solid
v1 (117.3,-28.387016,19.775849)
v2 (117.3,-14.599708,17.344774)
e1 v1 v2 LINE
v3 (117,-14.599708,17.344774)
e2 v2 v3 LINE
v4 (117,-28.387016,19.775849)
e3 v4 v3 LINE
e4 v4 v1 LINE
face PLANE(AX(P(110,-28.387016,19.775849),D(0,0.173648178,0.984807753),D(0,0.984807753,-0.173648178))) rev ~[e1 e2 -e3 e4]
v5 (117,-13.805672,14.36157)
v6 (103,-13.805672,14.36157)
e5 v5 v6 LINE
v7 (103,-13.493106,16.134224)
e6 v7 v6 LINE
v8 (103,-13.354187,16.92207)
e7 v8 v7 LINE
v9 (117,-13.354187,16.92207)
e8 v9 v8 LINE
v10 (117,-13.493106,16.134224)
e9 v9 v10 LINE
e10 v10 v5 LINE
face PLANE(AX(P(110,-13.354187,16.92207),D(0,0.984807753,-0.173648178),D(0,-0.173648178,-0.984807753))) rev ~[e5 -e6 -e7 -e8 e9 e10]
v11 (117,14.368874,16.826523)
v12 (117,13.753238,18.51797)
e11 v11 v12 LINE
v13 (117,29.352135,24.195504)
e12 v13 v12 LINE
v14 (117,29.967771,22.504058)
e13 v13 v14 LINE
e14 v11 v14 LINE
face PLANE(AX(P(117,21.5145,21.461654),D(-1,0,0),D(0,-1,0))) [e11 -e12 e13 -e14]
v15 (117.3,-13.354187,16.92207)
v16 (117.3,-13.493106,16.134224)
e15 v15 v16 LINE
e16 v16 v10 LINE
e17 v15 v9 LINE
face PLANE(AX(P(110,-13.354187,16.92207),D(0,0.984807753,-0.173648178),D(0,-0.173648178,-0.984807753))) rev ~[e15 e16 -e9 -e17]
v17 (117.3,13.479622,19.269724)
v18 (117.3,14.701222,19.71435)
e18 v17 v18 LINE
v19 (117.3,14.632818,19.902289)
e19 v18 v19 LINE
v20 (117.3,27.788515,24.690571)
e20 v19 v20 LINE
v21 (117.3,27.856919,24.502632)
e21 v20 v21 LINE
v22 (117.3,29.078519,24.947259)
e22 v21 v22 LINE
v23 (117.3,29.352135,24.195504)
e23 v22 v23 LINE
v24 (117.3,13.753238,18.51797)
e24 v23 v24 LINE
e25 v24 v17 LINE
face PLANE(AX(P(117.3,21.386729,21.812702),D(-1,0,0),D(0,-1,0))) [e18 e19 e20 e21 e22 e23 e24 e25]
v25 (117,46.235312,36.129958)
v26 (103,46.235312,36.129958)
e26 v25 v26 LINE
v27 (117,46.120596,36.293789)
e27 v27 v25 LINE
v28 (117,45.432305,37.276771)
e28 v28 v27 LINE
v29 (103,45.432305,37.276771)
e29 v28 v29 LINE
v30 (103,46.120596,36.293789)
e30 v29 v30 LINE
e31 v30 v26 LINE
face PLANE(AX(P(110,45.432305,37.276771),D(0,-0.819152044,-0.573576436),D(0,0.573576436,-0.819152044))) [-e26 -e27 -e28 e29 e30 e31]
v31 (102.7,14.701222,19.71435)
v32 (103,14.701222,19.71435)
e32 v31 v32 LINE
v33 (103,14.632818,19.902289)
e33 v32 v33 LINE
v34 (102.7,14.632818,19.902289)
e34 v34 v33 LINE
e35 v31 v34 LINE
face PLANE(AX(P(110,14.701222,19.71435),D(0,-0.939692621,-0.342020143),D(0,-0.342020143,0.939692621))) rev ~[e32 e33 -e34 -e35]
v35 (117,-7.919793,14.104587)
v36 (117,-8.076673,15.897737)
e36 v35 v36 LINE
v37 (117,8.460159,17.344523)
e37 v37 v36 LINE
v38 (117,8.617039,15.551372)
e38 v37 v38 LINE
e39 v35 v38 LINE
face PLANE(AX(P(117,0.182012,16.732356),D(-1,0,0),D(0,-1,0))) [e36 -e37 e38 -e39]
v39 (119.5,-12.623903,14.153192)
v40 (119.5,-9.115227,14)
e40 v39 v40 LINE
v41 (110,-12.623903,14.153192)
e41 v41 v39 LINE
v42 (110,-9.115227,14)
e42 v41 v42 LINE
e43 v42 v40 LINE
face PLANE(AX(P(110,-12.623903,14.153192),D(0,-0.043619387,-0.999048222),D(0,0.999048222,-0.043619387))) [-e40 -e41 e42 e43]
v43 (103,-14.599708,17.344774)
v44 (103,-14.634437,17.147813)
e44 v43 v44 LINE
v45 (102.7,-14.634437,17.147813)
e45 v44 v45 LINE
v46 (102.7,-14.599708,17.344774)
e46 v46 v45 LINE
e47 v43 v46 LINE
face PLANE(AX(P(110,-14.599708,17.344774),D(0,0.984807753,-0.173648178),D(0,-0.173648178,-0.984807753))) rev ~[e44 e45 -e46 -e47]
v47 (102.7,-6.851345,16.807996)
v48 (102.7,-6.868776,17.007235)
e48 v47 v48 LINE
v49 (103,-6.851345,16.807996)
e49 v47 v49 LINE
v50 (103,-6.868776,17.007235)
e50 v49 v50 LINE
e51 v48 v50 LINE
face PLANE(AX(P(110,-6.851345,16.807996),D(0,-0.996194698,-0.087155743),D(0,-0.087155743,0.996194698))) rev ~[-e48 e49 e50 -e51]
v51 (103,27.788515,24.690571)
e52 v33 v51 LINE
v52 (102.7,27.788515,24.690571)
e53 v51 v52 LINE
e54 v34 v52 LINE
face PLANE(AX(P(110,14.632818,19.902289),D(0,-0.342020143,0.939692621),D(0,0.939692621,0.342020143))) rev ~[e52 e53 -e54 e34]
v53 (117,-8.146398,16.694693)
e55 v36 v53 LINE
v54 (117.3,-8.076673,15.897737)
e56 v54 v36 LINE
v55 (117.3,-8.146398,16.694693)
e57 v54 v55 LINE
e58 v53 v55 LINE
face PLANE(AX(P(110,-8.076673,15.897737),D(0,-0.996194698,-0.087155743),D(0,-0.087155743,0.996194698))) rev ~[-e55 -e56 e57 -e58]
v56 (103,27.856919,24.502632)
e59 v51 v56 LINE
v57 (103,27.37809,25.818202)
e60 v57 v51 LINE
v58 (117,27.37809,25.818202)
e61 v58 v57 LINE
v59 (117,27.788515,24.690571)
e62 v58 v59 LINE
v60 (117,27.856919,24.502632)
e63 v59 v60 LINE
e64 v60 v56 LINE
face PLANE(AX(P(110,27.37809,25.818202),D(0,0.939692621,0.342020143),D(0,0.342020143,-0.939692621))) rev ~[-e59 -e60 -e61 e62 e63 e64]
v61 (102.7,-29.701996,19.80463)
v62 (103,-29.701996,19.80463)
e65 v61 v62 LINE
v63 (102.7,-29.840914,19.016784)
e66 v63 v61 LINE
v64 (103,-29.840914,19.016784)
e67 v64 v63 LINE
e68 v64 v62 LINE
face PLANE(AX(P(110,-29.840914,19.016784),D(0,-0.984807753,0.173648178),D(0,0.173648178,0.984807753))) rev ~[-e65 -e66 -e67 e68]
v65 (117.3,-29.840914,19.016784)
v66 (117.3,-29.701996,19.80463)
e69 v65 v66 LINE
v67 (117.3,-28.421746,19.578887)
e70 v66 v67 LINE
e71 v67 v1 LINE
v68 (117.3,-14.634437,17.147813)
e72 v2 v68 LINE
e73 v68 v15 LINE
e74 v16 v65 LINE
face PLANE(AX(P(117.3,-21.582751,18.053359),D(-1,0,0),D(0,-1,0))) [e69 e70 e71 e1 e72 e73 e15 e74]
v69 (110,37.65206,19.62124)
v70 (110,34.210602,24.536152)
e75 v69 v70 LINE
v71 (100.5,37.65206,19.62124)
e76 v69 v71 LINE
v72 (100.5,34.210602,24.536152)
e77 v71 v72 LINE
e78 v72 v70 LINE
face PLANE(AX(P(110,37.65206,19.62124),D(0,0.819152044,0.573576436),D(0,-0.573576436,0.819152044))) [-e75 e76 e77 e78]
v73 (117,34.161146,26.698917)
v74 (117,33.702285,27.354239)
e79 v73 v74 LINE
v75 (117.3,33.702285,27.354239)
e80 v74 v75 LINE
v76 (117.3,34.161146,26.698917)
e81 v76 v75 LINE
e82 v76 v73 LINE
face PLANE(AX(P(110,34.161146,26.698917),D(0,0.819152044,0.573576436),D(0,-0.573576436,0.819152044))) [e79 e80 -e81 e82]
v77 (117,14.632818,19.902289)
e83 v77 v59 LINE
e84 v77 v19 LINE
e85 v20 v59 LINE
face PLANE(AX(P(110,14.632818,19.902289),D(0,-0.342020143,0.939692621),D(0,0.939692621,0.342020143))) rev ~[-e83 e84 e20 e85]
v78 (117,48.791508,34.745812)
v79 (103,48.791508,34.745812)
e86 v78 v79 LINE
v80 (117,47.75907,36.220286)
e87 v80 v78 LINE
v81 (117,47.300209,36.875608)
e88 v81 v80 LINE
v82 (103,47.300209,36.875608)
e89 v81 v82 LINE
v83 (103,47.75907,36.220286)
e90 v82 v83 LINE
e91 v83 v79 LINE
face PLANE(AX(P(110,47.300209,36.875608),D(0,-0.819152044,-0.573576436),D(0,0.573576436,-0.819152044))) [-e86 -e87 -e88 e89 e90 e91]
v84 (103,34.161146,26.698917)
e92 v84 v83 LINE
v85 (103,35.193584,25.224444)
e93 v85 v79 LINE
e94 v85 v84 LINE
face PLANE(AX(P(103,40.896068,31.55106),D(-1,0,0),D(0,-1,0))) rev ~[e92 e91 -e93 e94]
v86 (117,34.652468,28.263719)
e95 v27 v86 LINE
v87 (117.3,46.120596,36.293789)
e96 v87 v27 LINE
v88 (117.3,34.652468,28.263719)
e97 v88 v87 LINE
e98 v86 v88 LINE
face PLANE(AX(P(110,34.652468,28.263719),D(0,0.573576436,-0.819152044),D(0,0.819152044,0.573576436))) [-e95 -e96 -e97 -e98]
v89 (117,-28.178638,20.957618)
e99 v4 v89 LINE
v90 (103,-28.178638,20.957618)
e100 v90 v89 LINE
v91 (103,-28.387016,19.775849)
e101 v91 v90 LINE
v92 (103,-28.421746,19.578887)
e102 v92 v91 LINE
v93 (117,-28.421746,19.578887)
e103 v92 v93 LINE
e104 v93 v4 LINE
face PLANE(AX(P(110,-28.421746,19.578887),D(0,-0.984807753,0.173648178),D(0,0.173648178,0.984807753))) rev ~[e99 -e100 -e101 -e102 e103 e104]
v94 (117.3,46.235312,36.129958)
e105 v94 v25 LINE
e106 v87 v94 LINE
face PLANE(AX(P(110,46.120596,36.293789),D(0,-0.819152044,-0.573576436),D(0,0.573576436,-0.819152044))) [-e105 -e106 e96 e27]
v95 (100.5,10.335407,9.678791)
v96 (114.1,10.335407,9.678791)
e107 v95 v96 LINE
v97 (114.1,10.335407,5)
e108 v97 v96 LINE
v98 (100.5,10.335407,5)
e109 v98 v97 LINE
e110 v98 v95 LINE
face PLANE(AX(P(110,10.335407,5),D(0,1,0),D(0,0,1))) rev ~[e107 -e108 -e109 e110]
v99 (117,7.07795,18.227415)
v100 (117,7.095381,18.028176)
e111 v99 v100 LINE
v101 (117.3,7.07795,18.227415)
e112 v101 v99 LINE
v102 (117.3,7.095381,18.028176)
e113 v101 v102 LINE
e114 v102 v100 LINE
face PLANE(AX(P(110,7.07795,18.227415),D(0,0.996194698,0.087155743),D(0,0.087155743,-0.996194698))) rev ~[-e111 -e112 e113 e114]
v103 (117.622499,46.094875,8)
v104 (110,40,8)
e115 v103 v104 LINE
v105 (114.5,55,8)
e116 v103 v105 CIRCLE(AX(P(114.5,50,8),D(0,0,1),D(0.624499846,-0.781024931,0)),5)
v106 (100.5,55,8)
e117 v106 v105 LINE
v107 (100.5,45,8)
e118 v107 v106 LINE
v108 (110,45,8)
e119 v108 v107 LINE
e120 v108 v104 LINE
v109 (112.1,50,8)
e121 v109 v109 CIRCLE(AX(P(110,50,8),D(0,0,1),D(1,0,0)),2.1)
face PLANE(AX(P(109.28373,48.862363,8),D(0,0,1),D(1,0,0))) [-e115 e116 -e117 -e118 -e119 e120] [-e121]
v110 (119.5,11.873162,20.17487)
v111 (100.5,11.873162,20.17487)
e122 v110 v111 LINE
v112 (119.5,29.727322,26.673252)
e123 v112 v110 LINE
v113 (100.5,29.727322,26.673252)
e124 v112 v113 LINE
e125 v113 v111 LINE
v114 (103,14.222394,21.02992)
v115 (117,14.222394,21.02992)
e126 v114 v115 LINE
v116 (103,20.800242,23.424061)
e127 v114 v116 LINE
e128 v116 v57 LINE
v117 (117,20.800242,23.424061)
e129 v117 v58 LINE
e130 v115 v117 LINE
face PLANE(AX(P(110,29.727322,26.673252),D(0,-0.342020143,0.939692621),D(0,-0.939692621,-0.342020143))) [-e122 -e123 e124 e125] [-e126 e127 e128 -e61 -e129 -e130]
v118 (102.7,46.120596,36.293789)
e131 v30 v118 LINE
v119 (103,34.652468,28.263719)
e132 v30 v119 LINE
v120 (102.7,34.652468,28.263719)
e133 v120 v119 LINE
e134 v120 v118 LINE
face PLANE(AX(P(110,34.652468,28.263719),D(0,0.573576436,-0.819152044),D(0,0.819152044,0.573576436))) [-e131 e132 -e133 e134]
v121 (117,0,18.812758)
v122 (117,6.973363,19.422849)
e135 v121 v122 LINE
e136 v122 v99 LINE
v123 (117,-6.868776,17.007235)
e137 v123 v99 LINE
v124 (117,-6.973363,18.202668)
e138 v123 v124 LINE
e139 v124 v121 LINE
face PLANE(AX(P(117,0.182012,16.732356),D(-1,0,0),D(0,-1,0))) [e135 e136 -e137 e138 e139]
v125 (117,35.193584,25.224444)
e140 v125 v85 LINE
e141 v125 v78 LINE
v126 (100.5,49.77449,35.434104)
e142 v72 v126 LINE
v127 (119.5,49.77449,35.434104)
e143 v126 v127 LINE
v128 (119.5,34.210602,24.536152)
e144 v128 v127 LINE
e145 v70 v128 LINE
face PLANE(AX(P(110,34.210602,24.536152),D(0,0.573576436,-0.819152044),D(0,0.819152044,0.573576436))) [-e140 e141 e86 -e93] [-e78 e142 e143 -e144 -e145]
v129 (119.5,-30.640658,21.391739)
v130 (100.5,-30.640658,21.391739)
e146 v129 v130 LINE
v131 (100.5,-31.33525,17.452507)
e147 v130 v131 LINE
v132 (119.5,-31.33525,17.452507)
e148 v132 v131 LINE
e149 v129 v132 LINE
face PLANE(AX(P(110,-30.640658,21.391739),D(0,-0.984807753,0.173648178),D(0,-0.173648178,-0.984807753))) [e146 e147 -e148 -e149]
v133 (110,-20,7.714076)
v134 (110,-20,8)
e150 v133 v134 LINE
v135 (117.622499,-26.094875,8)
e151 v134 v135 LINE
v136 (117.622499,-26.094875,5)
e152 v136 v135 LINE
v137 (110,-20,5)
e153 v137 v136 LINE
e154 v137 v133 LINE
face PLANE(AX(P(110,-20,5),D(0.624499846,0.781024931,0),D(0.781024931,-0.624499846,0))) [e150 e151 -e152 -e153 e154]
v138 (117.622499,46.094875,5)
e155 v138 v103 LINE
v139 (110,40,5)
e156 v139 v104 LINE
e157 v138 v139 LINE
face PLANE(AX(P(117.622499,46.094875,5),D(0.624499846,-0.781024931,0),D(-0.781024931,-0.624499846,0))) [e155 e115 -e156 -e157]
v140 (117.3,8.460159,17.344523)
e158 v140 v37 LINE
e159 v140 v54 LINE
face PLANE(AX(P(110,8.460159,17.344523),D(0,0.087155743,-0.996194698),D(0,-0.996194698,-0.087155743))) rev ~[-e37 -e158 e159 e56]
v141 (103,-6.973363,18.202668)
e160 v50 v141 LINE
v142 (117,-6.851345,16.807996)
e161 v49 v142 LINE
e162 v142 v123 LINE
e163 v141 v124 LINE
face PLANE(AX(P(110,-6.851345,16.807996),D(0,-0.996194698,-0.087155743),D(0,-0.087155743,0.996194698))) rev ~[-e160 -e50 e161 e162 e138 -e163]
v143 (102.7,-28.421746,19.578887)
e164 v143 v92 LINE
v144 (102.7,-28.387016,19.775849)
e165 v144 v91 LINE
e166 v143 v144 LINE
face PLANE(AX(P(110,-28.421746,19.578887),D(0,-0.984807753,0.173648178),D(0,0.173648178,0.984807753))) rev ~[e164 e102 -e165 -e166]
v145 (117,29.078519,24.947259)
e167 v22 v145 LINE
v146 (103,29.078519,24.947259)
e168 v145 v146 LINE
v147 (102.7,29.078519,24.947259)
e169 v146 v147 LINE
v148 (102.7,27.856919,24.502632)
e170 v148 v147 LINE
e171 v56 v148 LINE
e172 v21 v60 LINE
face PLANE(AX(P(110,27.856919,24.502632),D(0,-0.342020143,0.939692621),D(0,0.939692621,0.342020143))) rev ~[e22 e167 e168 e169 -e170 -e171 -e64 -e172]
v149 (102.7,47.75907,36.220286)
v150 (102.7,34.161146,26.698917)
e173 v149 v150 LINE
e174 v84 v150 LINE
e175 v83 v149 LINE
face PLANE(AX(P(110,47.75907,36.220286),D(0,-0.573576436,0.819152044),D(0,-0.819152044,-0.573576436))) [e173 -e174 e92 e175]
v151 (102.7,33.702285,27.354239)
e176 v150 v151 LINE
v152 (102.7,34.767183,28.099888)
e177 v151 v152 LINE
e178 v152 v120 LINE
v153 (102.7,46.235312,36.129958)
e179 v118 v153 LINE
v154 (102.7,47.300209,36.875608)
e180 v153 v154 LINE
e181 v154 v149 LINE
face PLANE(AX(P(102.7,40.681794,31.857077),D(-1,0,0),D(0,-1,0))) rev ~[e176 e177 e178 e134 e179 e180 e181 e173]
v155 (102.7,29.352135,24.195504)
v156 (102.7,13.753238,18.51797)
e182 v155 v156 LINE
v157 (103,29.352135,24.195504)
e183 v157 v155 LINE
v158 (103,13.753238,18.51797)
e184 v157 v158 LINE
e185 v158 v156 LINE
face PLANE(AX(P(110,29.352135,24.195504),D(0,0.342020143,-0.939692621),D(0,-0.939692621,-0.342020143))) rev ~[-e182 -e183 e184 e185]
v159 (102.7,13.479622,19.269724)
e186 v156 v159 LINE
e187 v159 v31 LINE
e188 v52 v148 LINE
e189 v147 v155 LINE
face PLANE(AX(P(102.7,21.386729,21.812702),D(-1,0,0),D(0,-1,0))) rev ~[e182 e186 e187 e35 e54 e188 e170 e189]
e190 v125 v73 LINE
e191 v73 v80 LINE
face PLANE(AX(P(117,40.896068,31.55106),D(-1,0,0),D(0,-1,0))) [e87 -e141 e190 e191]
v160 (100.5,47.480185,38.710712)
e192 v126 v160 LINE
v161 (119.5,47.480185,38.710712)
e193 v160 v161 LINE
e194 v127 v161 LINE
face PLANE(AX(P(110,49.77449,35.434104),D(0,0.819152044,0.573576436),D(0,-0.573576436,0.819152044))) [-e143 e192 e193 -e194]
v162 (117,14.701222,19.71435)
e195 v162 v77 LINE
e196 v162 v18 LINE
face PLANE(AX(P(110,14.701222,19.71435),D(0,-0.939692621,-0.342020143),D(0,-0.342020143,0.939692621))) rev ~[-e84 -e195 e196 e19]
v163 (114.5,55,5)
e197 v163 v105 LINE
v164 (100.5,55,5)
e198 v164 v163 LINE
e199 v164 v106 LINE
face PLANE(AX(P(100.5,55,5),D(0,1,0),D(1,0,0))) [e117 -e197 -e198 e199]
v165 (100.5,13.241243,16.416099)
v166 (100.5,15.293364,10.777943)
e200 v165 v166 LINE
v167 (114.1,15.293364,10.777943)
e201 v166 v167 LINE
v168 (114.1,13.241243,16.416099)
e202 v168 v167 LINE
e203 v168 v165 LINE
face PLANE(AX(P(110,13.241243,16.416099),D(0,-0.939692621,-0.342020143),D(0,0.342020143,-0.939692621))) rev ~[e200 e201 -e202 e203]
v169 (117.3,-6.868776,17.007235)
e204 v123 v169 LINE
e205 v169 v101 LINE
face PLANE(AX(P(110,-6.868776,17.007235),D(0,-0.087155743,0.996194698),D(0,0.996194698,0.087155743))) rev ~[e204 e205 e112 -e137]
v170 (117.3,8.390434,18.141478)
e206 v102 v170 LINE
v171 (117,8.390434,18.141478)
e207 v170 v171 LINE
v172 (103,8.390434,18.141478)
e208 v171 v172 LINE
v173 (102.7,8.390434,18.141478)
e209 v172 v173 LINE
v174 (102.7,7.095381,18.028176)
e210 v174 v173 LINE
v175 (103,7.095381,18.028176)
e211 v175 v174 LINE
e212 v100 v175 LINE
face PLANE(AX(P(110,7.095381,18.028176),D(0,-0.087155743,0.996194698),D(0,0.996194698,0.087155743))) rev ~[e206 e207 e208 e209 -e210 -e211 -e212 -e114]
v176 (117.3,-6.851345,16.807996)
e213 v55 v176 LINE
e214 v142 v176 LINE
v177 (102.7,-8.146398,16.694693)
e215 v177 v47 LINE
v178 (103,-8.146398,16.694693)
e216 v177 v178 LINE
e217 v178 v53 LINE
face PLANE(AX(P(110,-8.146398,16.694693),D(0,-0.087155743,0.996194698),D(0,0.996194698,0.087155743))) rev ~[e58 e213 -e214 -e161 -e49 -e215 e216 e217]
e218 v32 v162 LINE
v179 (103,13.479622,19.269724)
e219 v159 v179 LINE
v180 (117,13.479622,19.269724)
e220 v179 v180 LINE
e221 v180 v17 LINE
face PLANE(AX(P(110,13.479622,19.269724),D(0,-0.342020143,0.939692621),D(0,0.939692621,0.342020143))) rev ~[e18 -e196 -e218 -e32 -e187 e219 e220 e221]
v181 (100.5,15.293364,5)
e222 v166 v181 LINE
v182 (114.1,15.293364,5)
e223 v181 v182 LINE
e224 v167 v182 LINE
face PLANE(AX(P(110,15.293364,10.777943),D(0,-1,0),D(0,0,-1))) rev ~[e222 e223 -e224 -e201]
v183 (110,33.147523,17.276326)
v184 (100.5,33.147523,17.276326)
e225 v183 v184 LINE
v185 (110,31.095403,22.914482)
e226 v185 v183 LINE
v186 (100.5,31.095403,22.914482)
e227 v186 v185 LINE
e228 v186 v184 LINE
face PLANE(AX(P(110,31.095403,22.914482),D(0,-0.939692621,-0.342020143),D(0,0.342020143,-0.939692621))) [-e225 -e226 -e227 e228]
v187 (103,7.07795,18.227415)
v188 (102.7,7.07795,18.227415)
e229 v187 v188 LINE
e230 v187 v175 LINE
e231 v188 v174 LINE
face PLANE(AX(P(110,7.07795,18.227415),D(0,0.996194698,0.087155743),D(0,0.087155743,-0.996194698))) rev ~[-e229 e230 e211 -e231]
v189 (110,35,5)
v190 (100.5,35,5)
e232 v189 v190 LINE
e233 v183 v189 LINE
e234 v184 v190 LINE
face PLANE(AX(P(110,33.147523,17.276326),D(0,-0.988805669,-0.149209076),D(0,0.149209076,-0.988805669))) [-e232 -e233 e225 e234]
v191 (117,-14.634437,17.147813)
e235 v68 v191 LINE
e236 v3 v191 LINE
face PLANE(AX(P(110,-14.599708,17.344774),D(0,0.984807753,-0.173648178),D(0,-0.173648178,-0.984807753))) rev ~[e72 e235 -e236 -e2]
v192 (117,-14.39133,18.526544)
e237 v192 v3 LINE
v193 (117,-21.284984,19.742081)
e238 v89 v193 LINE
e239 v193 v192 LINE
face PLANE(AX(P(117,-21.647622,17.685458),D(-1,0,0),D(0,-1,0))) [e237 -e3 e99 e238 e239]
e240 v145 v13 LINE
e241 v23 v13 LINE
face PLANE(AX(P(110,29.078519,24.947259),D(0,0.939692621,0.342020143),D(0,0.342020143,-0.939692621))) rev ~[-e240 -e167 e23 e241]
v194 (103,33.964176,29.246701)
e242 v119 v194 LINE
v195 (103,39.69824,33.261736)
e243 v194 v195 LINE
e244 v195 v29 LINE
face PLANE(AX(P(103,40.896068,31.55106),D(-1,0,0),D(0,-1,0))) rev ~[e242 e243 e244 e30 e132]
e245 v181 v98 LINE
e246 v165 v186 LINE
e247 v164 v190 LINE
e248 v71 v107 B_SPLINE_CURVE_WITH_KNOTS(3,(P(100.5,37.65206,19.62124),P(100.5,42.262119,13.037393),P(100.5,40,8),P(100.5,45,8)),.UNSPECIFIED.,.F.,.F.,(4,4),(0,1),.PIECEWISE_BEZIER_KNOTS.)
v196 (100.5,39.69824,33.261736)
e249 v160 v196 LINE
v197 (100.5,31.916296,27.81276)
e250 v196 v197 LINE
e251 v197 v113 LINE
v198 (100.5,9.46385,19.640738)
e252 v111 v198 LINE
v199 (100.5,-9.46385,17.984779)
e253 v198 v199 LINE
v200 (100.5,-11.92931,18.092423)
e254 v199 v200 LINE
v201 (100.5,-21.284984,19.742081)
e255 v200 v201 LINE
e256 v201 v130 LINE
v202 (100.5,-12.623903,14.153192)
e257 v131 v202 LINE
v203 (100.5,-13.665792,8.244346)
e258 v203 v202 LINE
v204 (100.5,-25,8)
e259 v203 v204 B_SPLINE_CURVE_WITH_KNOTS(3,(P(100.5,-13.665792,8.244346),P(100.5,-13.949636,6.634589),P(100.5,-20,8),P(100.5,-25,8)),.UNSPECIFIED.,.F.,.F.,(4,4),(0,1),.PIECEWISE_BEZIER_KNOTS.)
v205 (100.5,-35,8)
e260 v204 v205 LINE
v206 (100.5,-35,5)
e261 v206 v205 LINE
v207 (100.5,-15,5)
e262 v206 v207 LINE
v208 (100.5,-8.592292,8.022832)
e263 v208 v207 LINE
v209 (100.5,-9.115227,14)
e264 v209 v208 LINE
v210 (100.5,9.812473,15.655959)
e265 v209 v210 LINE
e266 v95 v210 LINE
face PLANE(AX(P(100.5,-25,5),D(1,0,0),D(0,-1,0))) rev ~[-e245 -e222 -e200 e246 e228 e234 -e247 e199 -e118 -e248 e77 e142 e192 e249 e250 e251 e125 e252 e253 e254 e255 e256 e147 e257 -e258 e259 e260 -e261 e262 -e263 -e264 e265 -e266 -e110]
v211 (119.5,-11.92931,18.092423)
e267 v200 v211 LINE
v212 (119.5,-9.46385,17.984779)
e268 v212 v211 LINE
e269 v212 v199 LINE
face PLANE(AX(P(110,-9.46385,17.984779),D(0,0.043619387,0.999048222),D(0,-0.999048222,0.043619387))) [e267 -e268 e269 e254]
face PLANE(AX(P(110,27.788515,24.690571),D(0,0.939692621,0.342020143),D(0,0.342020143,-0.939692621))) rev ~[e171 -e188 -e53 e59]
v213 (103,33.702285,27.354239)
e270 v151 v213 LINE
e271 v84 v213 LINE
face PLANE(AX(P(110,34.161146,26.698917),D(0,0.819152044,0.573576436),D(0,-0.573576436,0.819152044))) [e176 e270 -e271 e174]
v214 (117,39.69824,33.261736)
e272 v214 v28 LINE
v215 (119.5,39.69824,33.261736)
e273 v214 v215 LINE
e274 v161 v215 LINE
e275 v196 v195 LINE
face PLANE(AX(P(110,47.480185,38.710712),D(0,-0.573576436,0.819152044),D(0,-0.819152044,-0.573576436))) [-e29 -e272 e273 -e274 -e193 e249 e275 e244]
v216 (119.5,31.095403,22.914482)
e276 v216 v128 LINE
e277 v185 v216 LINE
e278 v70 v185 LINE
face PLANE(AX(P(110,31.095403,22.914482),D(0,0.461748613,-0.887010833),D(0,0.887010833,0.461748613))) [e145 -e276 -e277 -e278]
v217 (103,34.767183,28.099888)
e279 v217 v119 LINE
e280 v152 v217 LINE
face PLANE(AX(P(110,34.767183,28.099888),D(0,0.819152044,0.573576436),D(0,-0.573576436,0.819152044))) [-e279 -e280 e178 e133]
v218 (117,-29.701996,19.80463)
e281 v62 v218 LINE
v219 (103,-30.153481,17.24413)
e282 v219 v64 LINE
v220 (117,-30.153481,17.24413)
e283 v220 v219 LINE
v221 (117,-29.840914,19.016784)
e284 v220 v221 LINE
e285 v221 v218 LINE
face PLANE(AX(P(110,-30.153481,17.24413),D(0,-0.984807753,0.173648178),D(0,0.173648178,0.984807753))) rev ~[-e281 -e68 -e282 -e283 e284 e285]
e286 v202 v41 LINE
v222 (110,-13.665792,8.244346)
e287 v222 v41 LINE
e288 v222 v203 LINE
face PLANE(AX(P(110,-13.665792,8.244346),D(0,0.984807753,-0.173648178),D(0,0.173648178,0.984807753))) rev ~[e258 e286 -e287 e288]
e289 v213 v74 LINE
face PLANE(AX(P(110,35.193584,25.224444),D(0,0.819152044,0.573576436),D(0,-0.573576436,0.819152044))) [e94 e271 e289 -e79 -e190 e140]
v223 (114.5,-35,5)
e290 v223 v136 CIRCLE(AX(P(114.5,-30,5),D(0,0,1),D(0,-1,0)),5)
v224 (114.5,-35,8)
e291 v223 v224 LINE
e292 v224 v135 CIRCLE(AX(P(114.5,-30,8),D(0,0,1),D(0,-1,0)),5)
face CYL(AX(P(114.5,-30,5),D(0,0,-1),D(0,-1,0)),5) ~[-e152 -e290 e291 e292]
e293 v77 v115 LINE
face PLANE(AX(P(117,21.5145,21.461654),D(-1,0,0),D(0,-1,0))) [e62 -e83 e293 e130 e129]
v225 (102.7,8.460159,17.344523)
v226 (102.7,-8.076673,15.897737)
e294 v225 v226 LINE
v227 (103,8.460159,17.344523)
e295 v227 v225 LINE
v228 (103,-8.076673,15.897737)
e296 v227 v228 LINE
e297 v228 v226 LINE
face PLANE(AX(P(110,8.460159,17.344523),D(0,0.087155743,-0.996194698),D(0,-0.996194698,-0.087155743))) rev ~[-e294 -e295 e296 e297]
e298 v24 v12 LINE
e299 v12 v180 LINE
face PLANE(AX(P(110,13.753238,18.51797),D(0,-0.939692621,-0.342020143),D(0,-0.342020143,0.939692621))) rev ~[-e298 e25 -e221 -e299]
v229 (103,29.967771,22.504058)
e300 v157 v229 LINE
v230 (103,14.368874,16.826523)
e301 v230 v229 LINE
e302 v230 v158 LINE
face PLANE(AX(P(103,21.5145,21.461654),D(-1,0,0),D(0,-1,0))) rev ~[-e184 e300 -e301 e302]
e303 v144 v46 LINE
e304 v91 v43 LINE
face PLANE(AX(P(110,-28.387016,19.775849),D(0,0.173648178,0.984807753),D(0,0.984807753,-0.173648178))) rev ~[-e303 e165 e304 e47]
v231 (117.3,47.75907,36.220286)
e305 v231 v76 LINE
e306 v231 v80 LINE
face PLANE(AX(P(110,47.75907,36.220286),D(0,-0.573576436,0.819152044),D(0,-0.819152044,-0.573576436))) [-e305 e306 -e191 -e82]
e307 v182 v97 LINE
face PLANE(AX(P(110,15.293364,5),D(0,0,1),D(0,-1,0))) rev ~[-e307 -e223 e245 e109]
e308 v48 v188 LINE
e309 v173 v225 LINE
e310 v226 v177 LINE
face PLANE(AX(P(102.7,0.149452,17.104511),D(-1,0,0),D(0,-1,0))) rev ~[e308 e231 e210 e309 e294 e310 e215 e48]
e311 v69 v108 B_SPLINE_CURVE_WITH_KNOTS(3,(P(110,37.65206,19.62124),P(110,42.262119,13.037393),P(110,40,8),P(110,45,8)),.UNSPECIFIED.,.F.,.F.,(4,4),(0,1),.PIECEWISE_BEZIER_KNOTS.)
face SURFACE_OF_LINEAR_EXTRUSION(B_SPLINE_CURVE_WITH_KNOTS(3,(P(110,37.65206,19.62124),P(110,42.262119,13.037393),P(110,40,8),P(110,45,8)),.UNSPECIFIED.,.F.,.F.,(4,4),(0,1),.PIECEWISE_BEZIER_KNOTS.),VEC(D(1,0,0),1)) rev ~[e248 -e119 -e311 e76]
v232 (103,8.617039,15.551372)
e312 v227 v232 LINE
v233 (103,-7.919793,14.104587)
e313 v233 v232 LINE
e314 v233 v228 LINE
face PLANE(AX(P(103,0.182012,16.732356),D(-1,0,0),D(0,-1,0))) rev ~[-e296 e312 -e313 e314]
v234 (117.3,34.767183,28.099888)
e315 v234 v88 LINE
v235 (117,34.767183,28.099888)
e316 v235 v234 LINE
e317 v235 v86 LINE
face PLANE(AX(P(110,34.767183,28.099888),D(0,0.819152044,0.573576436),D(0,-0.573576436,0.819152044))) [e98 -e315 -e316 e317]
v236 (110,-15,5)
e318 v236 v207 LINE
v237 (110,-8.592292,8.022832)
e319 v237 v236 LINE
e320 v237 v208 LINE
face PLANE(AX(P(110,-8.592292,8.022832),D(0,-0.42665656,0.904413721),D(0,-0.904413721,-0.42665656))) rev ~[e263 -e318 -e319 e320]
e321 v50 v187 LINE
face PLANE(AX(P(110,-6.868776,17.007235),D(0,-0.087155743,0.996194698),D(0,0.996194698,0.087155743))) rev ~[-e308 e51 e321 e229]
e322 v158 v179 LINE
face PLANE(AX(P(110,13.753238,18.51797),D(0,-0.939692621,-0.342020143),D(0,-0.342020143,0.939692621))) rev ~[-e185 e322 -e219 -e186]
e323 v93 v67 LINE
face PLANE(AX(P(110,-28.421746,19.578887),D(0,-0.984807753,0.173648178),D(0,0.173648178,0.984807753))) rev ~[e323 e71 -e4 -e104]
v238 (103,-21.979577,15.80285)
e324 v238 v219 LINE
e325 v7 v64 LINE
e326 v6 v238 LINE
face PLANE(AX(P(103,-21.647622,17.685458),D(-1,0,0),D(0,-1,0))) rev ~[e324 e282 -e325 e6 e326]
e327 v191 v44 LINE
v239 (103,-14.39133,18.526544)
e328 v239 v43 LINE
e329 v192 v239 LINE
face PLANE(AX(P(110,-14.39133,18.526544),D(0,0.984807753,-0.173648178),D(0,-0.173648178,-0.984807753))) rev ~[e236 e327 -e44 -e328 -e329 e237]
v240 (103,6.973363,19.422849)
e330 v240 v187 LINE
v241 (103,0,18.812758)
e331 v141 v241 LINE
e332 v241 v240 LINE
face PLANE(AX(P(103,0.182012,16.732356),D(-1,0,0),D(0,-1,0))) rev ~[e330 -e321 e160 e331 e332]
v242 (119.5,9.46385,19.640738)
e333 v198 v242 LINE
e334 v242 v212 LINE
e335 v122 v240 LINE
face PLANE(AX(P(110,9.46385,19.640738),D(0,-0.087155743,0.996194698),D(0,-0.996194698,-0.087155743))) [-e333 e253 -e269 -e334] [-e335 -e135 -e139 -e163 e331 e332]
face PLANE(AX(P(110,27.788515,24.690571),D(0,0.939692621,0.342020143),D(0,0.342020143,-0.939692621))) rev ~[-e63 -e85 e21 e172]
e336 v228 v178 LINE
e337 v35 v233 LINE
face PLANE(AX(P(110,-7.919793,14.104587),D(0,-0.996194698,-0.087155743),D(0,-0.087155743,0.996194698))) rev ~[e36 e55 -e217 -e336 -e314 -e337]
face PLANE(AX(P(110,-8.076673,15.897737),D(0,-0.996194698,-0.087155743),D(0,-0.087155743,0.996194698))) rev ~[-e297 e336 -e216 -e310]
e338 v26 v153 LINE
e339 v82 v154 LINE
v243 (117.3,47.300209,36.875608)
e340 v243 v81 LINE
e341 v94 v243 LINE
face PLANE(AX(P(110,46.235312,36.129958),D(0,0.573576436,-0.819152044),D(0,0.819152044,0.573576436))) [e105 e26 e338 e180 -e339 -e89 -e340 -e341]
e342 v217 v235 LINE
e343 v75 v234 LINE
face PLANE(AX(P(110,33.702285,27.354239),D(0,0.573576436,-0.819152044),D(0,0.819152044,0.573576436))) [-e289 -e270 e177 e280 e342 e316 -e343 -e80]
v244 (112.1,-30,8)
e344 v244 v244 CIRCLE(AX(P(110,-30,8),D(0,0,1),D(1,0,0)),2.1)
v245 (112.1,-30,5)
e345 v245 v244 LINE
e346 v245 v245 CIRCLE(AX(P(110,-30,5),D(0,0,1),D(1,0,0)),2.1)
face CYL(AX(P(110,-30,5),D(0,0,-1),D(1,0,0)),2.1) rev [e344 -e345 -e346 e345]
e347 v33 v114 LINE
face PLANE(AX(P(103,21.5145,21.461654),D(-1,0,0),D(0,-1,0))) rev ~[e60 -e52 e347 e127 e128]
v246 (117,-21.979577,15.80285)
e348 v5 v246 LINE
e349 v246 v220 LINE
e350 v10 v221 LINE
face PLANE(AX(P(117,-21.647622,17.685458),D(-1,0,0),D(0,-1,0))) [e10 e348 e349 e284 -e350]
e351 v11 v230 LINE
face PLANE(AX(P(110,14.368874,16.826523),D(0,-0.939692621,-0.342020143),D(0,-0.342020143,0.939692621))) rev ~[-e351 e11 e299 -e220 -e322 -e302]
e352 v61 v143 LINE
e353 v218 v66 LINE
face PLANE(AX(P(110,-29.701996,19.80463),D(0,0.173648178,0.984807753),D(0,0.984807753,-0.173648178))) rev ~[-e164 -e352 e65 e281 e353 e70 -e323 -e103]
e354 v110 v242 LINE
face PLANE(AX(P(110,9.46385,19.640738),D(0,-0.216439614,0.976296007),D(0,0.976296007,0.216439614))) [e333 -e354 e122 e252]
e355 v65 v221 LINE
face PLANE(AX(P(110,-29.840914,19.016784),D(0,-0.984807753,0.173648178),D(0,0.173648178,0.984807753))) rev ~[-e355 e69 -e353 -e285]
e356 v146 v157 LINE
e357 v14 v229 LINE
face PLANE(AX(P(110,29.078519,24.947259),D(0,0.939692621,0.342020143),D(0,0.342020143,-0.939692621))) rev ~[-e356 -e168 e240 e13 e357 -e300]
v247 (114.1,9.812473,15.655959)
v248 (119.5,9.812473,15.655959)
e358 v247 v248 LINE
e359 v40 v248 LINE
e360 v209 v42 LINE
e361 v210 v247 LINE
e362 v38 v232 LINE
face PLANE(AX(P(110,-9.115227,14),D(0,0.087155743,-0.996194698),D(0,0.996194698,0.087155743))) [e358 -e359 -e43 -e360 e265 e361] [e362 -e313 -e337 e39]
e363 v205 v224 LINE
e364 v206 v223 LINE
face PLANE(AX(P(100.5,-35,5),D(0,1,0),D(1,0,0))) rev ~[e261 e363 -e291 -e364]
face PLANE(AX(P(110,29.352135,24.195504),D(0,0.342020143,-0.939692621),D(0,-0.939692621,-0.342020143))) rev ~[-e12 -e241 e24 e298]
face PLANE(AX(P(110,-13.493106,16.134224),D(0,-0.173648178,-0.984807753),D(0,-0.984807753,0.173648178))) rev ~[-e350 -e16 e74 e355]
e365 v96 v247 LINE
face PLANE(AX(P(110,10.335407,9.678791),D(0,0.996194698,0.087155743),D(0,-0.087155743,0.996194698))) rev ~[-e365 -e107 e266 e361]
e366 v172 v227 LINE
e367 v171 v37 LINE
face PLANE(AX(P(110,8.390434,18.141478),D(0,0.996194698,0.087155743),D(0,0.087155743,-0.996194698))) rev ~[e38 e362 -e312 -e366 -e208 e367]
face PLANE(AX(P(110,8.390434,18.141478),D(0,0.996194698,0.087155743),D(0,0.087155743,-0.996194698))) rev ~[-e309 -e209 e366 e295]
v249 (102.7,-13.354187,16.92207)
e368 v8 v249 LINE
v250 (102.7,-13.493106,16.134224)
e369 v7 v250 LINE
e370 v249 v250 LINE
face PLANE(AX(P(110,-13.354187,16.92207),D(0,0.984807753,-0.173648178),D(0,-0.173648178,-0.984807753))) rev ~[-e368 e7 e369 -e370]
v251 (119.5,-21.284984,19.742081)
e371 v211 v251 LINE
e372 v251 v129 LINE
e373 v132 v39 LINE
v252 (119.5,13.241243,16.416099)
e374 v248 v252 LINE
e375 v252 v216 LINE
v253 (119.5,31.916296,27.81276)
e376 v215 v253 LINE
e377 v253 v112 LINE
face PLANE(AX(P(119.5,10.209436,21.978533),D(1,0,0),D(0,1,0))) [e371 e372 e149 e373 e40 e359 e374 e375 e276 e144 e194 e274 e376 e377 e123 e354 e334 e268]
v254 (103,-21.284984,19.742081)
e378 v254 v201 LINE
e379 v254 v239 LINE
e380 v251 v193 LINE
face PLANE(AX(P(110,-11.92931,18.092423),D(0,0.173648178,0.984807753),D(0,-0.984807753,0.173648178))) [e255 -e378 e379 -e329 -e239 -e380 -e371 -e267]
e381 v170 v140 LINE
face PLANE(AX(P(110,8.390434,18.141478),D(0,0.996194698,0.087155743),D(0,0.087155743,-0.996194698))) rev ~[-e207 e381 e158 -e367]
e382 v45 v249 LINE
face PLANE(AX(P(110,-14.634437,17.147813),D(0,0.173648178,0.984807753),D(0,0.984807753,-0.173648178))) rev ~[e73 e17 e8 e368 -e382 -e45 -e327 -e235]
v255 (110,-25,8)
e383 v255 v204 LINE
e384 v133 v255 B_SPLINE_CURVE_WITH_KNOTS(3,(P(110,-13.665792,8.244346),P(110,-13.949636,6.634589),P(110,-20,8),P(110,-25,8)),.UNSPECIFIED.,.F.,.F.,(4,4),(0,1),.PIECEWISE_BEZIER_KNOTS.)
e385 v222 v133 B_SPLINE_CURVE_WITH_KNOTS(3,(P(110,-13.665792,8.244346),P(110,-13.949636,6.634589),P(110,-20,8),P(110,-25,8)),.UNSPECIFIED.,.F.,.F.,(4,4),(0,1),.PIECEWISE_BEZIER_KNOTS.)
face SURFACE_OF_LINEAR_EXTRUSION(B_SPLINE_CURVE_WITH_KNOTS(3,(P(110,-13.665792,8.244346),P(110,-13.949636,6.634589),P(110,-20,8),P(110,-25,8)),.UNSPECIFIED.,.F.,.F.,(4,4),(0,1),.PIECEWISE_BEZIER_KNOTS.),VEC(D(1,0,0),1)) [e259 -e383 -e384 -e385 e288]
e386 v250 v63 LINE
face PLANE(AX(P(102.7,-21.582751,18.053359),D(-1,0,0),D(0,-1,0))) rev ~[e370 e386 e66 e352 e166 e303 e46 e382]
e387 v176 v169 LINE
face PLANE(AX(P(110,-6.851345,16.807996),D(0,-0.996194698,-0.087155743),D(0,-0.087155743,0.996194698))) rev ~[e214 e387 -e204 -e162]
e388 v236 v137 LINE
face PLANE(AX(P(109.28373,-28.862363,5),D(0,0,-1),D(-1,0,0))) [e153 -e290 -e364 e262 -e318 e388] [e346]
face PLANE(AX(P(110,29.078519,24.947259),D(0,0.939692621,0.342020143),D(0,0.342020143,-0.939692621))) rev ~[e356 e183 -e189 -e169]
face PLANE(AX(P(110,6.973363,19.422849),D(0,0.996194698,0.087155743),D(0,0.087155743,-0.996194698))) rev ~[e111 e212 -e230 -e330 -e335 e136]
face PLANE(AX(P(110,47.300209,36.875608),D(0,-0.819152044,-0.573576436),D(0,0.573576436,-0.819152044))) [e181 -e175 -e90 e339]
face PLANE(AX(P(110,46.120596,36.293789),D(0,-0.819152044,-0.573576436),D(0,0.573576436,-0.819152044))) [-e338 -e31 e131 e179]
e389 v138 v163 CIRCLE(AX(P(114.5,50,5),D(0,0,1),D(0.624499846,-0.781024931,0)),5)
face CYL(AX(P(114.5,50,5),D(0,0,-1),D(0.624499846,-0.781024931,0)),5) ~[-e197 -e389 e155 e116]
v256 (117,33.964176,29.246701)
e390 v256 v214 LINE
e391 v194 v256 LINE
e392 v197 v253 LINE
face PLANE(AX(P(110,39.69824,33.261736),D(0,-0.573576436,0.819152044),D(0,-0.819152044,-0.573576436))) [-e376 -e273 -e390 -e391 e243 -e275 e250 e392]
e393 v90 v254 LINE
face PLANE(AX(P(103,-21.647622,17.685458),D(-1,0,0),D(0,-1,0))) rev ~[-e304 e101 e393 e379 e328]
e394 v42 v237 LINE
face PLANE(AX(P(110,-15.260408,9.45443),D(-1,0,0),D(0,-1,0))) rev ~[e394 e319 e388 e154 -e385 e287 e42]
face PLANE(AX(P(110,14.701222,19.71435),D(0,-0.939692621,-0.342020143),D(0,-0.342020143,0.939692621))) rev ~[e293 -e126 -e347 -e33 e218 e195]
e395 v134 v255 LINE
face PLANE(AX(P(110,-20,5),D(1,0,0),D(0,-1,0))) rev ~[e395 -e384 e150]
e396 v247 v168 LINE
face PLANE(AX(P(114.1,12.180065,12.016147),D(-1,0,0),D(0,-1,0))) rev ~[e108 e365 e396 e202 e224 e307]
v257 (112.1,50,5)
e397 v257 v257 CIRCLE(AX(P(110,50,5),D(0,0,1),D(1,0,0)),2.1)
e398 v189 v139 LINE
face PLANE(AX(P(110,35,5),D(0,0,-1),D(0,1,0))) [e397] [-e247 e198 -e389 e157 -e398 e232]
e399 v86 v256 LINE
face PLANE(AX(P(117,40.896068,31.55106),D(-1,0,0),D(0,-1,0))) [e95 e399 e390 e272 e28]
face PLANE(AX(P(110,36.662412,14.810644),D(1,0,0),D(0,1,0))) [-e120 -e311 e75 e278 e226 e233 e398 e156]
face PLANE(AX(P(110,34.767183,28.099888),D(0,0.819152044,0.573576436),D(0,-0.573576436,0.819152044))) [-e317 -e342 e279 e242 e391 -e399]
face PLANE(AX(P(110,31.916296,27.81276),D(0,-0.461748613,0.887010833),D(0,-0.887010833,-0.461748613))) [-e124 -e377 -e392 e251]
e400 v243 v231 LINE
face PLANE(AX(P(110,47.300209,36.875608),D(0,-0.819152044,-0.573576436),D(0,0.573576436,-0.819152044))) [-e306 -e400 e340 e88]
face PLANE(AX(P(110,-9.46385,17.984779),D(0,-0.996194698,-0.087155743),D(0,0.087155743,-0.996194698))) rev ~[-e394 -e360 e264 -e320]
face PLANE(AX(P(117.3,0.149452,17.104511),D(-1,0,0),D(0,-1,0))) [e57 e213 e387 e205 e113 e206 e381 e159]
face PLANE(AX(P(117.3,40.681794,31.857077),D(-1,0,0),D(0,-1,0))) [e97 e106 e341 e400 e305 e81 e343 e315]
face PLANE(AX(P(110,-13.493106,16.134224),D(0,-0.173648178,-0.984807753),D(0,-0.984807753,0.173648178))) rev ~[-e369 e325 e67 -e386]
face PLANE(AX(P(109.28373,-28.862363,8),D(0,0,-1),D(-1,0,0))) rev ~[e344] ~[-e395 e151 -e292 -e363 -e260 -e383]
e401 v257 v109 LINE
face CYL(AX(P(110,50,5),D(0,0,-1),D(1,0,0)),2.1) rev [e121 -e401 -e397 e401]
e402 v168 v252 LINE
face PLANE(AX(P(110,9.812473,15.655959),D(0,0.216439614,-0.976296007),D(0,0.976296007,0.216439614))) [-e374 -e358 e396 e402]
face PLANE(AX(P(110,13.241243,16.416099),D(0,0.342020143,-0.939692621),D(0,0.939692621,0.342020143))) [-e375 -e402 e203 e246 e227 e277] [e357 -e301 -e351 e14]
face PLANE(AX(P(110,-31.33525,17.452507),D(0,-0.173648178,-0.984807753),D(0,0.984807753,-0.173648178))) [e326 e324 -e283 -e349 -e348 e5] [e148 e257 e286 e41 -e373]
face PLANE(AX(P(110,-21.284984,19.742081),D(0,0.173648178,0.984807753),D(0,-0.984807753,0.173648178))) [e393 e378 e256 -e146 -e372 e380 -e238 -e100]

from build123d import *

# Parameters (mm, degrees)
PAD020_DEPTH      = 9.5
POCKET010_DEPTH   = 7
POCKET011_DEPTH   = 7.3
PAD021_DEPTH      = 4.1
PAD021_DEPTH_BACK = 9.5
PAD022_DEPTH      = 9.5
SKETCH037_R       = 2.1
PAD023_DEPTH      = 3


with BuildPart() as part:
    # Sketch032 → Pad020 (new body, symmetric)
    with BuildSketch(Plane.YZ):
        Polygon((-31.335250398, 12.452507497), (-12.6239030908, 9.1531921213), (-9.1152266609, 9), (9.8124726029, 10.6559591122), (13.2412428211, 11.416099169), (31.0954026161, 17.9144818922), (34.2106015986, 19.5361518385), (49.7744904401, 30.4341041291), (47.4801846947, 33.7107123063), (39.698240274, 28.2617361609), (31.9162958532, 22.8127600156), (29.7273220428, 21.6732523754), (20.8002421453, 18.4240610138), (11.8731622478, 15.1748696522), (9.4638496319, 14.6407379046), (0, 13.8127583485), (-9.4638496319, 12.9847787924), (-11.9293103801, 13.0924231333), (-21.2849840337, 14.7420808212), (-30.6406576873, 16.391738509), align=None)
    extrude(amount=PAD020_DEPTH, both=True)

    # Sketch033 → Pocket010 (cut, symmetric)
    with BuildSketch(Plane.YZ):
        Polygon((-28.1786383048, 15.9576180648), (-21.2849840337, 14.7420808212), (-14.3913297626, 13.5265435775), (-14.6344372114, 12.1478127233), (-13.3541871324, 11.9220700923), (-13.8056723944, 9.3615699345), (-21.9795767444, 10.8028498091), (-30.1534810944, 12.2441296838), (-29.7019958324, 14.8046298416), (-28.4217457535, 14.5788872106), align=None)
        Polygon((-6.9733628866, 13.2026681492), (0, 13.8127583485), (6.9733628866, 14.4228485477), (7.0953809265, 13.0281759704), (8.390434034, 13.1414784359), (8.6170389652, 10.5513722209), (0.348622971, 9.8279795561), (-7.9197930232, 9.1045868913), (-8.1463979543, 11.6946931063), (-6.8513448468, 11.8079955719), align=None)
        Polygon((14.2223937998, 16.0299200105), (20.8002421453, 18.4240610138), (27.3780904908, 20.818202017), (27.8569186914, 19.5026323479), (29.0785190985, 19.9472585343), (29.9677714711, 17.5040577202), (22.1683227186, 14.6652905306), (14.3688739661, 11.826523341), (13.4796215934, 14.2697241551), (14.7012220004, 14.7143503414), align=None)
        Polygon((33.964175964, 24.2467011065), (39.698240274, 28.2617361609), (45.432304584, 32.2767712154), (46.2353115949, 31.1299583534), (47.3002092525, 31.8756077207), (48.791507987, 29.7458124055), (41.9925460194, 24.9851279838), (35.1935840518, 20.2244435621), (33.7022853173, 22.3542388772), (34.7671829748, 23.0998882445), align=None)
    extrude(amount=POCKET010_DEPTH, both=True, mode=Mode.SUBTRACT)

    # Sketch034 → Pocket011 (cut, symmetric)
    with BuildSketch(Plane.YZ):
        Polygon((14.6328179718, 14.9022888655), (27.7885146628, 19.6905708721), (27.8569186914, 19.5026323479), (29.0785190985, 19.9472585343), (29.3521352131, 19.1955044376), (13.7532377081, 13.5179700584), (13.4796215934, 14.2697241551), (14.7012220004, 14.7143503414), align=None)
        Polygon((-6.8687759953, 12.0072345115), (7.0779497779, 13.22741491), (7.0953809265, 13.0281759704), (8.390434034, 13.1414784359), (8.4601586282, 12.3445226775), (-8.0766733601, 10.8977373479), (-8.1463979543, 11.6946931063), (-6.8513448468, 11.8079955719), align=None)
        Polygon((-28.387016118, 14.7758487612), (-14.5997075758, 12.3447742739), (-14.6344372114, 12.1478127233), (-13.3541871324, 11.9220700923), (-13.4931056746, 11.1342238899), (-29.8409143746, 14.0167836392), (-29.7019958324, 14.8046298416), (-28.4217457535, 14.5788872106), align=None)
        Polygon((34.6524676876, 23.2637186533), (46.1205963076, 31.2937887623), (46.2353115949, 31.1299583534), (47.3002092525, 31.8756077207), (47.7590704016, 31.2202860852), (34.1611464664, 21.6989172418), (33.7022853173, 22.3542388772), (34.7671829748, 23.0998882445), align=None)
    extrude(amount=POCKET011_DEPTH, both=True, mode=Mode.SUBTRACT)

    # Sketch035 → Pad021 (join, two sides)
    with BuildSketch(Plane.YZ) as pad021_sk:
        Polygon((9.4638496319, 14.6407379046), (11.8731622478, 15.1748696522), (13.2412428211, 11.416099169), (15.2933636811, 5.7779434443), (15.2933636811, 0), (10.3354070593, 0), (10.3354070593, 4.6787909237), (9.8124726029, 10.6559591122), align=None)
    extrude(amount=PAD021_DEPTH)
    extrude(pad021_sk.sketch, amount=-PAD021_DEPTH_BACK)

    # Sketch036 → Pad022 (join)
    with BuildSketch(Plane.YZ):
        with BuildLine():
            Line((-11.9293103801, 13.0924231333), (-9.4638496319, 12.9847787924))
            Line((-9.4638496319, 12.9847787924), (-9.1152266609, 9))
            Line((-9.1152266609, 9), (-8.5922922044, 3.0228318114))
            Line((-8.5922922044, 3.0228318114), (-15, 0))
            Line((-15, 0), (-25, 0))
            Line((-25, 0), (-25, 3))
            add(Edge.make_bspline(
                [(-13.6657921568, 3.2443456032), (-13.9496356176, 1.6345893441), (-20, 3), (-25, 3)],
                knots=[0, 0, 0, 0, 1, 1, 1, 1], degree=3))
            Line((-13.6657921568, 3.2443456032), (-12.6239030908, 9.1531921213))
            Line((-12.6239030908, 9.1531921213), (-11.9293103801, 13.0924231333))
        make_face()
        with BuildLine():
            Line((37.6520602167, 14.6212395727), (34.2106015986, 19.5361518385))
            Line((34.2106015986, 19.5361518385), (31.9162958532, 22.8127600156))
            Line((31.9162958532, 22.8127600156), (29.7273220428, 21.6732523754))
            Line((29.7273220428, 21.6732523754), (31.0954026161, 17.9144818922))
            Line((31.0954026161, 17.9144818922), (33.147523476, 12.2763261675))
            Line((33.147523476, 12.2763261675), (35, 0))
            Line((35, 0), (45, 0))
            Line((45, 0), (45, 3))
            add(Edge.make_bspline(
                [(37.6520602167, 14.6212395727), (42.2621193459, 8.0373928164), (40, 3), (45, 3)],
                knots=[0, 0, 0, 0, 1, 1, 1, 1], degree=3))
        make_face()
    extrude(amount=-PAD022_DEPTH)

    # Sketch037 → Pad023 (join)
    with BuildSketch(Plane.XY):
        with BuildLine():
            Line((0, -20), (7.6224992299, -26.0948753465))
            ThreePointArc((4.5, -35), (9.218348401, -31.6544450327), (7.6224992299, -26.0948753465))
            Line((-9.5, -35), (4.5, -35))
            Line((-9.5, -25), (-9.5, -35))
            Line((0, -25), (-9.5, -25))
            Line((0, -20), (0, -25))
        make_face()
        with Locations((0, -30)):
            Circle(SKETCH037_R, mode=Mode.SUBTRACT)
        with BuildLine():
            Line((0, 45), (0, 40))
            Line((7.6224992299, 46.0948753465), (0, 40))
            ThreePointArc((7.6224992299, 46.0948753465), (9.218348401, 51.6544450327), (4.5, 55))
            Line((-9.5, 55), (4.5, 55))
            Line((-9.5, 45), (-9.5, 55))
            Line((0, 45), (-9.5, 45))
        make_face()
        with Locations((0, 50)):
            Circle(SKETCH037_R, mode=Mode.SUBTRACT)
    extrude(amount=PAD023_DEPTH)


with BuildPart() as part_1:
    # Body005 placement: moved
    add(part.part.moved(Location((110, 0, 5))))


solid = part_1.part
